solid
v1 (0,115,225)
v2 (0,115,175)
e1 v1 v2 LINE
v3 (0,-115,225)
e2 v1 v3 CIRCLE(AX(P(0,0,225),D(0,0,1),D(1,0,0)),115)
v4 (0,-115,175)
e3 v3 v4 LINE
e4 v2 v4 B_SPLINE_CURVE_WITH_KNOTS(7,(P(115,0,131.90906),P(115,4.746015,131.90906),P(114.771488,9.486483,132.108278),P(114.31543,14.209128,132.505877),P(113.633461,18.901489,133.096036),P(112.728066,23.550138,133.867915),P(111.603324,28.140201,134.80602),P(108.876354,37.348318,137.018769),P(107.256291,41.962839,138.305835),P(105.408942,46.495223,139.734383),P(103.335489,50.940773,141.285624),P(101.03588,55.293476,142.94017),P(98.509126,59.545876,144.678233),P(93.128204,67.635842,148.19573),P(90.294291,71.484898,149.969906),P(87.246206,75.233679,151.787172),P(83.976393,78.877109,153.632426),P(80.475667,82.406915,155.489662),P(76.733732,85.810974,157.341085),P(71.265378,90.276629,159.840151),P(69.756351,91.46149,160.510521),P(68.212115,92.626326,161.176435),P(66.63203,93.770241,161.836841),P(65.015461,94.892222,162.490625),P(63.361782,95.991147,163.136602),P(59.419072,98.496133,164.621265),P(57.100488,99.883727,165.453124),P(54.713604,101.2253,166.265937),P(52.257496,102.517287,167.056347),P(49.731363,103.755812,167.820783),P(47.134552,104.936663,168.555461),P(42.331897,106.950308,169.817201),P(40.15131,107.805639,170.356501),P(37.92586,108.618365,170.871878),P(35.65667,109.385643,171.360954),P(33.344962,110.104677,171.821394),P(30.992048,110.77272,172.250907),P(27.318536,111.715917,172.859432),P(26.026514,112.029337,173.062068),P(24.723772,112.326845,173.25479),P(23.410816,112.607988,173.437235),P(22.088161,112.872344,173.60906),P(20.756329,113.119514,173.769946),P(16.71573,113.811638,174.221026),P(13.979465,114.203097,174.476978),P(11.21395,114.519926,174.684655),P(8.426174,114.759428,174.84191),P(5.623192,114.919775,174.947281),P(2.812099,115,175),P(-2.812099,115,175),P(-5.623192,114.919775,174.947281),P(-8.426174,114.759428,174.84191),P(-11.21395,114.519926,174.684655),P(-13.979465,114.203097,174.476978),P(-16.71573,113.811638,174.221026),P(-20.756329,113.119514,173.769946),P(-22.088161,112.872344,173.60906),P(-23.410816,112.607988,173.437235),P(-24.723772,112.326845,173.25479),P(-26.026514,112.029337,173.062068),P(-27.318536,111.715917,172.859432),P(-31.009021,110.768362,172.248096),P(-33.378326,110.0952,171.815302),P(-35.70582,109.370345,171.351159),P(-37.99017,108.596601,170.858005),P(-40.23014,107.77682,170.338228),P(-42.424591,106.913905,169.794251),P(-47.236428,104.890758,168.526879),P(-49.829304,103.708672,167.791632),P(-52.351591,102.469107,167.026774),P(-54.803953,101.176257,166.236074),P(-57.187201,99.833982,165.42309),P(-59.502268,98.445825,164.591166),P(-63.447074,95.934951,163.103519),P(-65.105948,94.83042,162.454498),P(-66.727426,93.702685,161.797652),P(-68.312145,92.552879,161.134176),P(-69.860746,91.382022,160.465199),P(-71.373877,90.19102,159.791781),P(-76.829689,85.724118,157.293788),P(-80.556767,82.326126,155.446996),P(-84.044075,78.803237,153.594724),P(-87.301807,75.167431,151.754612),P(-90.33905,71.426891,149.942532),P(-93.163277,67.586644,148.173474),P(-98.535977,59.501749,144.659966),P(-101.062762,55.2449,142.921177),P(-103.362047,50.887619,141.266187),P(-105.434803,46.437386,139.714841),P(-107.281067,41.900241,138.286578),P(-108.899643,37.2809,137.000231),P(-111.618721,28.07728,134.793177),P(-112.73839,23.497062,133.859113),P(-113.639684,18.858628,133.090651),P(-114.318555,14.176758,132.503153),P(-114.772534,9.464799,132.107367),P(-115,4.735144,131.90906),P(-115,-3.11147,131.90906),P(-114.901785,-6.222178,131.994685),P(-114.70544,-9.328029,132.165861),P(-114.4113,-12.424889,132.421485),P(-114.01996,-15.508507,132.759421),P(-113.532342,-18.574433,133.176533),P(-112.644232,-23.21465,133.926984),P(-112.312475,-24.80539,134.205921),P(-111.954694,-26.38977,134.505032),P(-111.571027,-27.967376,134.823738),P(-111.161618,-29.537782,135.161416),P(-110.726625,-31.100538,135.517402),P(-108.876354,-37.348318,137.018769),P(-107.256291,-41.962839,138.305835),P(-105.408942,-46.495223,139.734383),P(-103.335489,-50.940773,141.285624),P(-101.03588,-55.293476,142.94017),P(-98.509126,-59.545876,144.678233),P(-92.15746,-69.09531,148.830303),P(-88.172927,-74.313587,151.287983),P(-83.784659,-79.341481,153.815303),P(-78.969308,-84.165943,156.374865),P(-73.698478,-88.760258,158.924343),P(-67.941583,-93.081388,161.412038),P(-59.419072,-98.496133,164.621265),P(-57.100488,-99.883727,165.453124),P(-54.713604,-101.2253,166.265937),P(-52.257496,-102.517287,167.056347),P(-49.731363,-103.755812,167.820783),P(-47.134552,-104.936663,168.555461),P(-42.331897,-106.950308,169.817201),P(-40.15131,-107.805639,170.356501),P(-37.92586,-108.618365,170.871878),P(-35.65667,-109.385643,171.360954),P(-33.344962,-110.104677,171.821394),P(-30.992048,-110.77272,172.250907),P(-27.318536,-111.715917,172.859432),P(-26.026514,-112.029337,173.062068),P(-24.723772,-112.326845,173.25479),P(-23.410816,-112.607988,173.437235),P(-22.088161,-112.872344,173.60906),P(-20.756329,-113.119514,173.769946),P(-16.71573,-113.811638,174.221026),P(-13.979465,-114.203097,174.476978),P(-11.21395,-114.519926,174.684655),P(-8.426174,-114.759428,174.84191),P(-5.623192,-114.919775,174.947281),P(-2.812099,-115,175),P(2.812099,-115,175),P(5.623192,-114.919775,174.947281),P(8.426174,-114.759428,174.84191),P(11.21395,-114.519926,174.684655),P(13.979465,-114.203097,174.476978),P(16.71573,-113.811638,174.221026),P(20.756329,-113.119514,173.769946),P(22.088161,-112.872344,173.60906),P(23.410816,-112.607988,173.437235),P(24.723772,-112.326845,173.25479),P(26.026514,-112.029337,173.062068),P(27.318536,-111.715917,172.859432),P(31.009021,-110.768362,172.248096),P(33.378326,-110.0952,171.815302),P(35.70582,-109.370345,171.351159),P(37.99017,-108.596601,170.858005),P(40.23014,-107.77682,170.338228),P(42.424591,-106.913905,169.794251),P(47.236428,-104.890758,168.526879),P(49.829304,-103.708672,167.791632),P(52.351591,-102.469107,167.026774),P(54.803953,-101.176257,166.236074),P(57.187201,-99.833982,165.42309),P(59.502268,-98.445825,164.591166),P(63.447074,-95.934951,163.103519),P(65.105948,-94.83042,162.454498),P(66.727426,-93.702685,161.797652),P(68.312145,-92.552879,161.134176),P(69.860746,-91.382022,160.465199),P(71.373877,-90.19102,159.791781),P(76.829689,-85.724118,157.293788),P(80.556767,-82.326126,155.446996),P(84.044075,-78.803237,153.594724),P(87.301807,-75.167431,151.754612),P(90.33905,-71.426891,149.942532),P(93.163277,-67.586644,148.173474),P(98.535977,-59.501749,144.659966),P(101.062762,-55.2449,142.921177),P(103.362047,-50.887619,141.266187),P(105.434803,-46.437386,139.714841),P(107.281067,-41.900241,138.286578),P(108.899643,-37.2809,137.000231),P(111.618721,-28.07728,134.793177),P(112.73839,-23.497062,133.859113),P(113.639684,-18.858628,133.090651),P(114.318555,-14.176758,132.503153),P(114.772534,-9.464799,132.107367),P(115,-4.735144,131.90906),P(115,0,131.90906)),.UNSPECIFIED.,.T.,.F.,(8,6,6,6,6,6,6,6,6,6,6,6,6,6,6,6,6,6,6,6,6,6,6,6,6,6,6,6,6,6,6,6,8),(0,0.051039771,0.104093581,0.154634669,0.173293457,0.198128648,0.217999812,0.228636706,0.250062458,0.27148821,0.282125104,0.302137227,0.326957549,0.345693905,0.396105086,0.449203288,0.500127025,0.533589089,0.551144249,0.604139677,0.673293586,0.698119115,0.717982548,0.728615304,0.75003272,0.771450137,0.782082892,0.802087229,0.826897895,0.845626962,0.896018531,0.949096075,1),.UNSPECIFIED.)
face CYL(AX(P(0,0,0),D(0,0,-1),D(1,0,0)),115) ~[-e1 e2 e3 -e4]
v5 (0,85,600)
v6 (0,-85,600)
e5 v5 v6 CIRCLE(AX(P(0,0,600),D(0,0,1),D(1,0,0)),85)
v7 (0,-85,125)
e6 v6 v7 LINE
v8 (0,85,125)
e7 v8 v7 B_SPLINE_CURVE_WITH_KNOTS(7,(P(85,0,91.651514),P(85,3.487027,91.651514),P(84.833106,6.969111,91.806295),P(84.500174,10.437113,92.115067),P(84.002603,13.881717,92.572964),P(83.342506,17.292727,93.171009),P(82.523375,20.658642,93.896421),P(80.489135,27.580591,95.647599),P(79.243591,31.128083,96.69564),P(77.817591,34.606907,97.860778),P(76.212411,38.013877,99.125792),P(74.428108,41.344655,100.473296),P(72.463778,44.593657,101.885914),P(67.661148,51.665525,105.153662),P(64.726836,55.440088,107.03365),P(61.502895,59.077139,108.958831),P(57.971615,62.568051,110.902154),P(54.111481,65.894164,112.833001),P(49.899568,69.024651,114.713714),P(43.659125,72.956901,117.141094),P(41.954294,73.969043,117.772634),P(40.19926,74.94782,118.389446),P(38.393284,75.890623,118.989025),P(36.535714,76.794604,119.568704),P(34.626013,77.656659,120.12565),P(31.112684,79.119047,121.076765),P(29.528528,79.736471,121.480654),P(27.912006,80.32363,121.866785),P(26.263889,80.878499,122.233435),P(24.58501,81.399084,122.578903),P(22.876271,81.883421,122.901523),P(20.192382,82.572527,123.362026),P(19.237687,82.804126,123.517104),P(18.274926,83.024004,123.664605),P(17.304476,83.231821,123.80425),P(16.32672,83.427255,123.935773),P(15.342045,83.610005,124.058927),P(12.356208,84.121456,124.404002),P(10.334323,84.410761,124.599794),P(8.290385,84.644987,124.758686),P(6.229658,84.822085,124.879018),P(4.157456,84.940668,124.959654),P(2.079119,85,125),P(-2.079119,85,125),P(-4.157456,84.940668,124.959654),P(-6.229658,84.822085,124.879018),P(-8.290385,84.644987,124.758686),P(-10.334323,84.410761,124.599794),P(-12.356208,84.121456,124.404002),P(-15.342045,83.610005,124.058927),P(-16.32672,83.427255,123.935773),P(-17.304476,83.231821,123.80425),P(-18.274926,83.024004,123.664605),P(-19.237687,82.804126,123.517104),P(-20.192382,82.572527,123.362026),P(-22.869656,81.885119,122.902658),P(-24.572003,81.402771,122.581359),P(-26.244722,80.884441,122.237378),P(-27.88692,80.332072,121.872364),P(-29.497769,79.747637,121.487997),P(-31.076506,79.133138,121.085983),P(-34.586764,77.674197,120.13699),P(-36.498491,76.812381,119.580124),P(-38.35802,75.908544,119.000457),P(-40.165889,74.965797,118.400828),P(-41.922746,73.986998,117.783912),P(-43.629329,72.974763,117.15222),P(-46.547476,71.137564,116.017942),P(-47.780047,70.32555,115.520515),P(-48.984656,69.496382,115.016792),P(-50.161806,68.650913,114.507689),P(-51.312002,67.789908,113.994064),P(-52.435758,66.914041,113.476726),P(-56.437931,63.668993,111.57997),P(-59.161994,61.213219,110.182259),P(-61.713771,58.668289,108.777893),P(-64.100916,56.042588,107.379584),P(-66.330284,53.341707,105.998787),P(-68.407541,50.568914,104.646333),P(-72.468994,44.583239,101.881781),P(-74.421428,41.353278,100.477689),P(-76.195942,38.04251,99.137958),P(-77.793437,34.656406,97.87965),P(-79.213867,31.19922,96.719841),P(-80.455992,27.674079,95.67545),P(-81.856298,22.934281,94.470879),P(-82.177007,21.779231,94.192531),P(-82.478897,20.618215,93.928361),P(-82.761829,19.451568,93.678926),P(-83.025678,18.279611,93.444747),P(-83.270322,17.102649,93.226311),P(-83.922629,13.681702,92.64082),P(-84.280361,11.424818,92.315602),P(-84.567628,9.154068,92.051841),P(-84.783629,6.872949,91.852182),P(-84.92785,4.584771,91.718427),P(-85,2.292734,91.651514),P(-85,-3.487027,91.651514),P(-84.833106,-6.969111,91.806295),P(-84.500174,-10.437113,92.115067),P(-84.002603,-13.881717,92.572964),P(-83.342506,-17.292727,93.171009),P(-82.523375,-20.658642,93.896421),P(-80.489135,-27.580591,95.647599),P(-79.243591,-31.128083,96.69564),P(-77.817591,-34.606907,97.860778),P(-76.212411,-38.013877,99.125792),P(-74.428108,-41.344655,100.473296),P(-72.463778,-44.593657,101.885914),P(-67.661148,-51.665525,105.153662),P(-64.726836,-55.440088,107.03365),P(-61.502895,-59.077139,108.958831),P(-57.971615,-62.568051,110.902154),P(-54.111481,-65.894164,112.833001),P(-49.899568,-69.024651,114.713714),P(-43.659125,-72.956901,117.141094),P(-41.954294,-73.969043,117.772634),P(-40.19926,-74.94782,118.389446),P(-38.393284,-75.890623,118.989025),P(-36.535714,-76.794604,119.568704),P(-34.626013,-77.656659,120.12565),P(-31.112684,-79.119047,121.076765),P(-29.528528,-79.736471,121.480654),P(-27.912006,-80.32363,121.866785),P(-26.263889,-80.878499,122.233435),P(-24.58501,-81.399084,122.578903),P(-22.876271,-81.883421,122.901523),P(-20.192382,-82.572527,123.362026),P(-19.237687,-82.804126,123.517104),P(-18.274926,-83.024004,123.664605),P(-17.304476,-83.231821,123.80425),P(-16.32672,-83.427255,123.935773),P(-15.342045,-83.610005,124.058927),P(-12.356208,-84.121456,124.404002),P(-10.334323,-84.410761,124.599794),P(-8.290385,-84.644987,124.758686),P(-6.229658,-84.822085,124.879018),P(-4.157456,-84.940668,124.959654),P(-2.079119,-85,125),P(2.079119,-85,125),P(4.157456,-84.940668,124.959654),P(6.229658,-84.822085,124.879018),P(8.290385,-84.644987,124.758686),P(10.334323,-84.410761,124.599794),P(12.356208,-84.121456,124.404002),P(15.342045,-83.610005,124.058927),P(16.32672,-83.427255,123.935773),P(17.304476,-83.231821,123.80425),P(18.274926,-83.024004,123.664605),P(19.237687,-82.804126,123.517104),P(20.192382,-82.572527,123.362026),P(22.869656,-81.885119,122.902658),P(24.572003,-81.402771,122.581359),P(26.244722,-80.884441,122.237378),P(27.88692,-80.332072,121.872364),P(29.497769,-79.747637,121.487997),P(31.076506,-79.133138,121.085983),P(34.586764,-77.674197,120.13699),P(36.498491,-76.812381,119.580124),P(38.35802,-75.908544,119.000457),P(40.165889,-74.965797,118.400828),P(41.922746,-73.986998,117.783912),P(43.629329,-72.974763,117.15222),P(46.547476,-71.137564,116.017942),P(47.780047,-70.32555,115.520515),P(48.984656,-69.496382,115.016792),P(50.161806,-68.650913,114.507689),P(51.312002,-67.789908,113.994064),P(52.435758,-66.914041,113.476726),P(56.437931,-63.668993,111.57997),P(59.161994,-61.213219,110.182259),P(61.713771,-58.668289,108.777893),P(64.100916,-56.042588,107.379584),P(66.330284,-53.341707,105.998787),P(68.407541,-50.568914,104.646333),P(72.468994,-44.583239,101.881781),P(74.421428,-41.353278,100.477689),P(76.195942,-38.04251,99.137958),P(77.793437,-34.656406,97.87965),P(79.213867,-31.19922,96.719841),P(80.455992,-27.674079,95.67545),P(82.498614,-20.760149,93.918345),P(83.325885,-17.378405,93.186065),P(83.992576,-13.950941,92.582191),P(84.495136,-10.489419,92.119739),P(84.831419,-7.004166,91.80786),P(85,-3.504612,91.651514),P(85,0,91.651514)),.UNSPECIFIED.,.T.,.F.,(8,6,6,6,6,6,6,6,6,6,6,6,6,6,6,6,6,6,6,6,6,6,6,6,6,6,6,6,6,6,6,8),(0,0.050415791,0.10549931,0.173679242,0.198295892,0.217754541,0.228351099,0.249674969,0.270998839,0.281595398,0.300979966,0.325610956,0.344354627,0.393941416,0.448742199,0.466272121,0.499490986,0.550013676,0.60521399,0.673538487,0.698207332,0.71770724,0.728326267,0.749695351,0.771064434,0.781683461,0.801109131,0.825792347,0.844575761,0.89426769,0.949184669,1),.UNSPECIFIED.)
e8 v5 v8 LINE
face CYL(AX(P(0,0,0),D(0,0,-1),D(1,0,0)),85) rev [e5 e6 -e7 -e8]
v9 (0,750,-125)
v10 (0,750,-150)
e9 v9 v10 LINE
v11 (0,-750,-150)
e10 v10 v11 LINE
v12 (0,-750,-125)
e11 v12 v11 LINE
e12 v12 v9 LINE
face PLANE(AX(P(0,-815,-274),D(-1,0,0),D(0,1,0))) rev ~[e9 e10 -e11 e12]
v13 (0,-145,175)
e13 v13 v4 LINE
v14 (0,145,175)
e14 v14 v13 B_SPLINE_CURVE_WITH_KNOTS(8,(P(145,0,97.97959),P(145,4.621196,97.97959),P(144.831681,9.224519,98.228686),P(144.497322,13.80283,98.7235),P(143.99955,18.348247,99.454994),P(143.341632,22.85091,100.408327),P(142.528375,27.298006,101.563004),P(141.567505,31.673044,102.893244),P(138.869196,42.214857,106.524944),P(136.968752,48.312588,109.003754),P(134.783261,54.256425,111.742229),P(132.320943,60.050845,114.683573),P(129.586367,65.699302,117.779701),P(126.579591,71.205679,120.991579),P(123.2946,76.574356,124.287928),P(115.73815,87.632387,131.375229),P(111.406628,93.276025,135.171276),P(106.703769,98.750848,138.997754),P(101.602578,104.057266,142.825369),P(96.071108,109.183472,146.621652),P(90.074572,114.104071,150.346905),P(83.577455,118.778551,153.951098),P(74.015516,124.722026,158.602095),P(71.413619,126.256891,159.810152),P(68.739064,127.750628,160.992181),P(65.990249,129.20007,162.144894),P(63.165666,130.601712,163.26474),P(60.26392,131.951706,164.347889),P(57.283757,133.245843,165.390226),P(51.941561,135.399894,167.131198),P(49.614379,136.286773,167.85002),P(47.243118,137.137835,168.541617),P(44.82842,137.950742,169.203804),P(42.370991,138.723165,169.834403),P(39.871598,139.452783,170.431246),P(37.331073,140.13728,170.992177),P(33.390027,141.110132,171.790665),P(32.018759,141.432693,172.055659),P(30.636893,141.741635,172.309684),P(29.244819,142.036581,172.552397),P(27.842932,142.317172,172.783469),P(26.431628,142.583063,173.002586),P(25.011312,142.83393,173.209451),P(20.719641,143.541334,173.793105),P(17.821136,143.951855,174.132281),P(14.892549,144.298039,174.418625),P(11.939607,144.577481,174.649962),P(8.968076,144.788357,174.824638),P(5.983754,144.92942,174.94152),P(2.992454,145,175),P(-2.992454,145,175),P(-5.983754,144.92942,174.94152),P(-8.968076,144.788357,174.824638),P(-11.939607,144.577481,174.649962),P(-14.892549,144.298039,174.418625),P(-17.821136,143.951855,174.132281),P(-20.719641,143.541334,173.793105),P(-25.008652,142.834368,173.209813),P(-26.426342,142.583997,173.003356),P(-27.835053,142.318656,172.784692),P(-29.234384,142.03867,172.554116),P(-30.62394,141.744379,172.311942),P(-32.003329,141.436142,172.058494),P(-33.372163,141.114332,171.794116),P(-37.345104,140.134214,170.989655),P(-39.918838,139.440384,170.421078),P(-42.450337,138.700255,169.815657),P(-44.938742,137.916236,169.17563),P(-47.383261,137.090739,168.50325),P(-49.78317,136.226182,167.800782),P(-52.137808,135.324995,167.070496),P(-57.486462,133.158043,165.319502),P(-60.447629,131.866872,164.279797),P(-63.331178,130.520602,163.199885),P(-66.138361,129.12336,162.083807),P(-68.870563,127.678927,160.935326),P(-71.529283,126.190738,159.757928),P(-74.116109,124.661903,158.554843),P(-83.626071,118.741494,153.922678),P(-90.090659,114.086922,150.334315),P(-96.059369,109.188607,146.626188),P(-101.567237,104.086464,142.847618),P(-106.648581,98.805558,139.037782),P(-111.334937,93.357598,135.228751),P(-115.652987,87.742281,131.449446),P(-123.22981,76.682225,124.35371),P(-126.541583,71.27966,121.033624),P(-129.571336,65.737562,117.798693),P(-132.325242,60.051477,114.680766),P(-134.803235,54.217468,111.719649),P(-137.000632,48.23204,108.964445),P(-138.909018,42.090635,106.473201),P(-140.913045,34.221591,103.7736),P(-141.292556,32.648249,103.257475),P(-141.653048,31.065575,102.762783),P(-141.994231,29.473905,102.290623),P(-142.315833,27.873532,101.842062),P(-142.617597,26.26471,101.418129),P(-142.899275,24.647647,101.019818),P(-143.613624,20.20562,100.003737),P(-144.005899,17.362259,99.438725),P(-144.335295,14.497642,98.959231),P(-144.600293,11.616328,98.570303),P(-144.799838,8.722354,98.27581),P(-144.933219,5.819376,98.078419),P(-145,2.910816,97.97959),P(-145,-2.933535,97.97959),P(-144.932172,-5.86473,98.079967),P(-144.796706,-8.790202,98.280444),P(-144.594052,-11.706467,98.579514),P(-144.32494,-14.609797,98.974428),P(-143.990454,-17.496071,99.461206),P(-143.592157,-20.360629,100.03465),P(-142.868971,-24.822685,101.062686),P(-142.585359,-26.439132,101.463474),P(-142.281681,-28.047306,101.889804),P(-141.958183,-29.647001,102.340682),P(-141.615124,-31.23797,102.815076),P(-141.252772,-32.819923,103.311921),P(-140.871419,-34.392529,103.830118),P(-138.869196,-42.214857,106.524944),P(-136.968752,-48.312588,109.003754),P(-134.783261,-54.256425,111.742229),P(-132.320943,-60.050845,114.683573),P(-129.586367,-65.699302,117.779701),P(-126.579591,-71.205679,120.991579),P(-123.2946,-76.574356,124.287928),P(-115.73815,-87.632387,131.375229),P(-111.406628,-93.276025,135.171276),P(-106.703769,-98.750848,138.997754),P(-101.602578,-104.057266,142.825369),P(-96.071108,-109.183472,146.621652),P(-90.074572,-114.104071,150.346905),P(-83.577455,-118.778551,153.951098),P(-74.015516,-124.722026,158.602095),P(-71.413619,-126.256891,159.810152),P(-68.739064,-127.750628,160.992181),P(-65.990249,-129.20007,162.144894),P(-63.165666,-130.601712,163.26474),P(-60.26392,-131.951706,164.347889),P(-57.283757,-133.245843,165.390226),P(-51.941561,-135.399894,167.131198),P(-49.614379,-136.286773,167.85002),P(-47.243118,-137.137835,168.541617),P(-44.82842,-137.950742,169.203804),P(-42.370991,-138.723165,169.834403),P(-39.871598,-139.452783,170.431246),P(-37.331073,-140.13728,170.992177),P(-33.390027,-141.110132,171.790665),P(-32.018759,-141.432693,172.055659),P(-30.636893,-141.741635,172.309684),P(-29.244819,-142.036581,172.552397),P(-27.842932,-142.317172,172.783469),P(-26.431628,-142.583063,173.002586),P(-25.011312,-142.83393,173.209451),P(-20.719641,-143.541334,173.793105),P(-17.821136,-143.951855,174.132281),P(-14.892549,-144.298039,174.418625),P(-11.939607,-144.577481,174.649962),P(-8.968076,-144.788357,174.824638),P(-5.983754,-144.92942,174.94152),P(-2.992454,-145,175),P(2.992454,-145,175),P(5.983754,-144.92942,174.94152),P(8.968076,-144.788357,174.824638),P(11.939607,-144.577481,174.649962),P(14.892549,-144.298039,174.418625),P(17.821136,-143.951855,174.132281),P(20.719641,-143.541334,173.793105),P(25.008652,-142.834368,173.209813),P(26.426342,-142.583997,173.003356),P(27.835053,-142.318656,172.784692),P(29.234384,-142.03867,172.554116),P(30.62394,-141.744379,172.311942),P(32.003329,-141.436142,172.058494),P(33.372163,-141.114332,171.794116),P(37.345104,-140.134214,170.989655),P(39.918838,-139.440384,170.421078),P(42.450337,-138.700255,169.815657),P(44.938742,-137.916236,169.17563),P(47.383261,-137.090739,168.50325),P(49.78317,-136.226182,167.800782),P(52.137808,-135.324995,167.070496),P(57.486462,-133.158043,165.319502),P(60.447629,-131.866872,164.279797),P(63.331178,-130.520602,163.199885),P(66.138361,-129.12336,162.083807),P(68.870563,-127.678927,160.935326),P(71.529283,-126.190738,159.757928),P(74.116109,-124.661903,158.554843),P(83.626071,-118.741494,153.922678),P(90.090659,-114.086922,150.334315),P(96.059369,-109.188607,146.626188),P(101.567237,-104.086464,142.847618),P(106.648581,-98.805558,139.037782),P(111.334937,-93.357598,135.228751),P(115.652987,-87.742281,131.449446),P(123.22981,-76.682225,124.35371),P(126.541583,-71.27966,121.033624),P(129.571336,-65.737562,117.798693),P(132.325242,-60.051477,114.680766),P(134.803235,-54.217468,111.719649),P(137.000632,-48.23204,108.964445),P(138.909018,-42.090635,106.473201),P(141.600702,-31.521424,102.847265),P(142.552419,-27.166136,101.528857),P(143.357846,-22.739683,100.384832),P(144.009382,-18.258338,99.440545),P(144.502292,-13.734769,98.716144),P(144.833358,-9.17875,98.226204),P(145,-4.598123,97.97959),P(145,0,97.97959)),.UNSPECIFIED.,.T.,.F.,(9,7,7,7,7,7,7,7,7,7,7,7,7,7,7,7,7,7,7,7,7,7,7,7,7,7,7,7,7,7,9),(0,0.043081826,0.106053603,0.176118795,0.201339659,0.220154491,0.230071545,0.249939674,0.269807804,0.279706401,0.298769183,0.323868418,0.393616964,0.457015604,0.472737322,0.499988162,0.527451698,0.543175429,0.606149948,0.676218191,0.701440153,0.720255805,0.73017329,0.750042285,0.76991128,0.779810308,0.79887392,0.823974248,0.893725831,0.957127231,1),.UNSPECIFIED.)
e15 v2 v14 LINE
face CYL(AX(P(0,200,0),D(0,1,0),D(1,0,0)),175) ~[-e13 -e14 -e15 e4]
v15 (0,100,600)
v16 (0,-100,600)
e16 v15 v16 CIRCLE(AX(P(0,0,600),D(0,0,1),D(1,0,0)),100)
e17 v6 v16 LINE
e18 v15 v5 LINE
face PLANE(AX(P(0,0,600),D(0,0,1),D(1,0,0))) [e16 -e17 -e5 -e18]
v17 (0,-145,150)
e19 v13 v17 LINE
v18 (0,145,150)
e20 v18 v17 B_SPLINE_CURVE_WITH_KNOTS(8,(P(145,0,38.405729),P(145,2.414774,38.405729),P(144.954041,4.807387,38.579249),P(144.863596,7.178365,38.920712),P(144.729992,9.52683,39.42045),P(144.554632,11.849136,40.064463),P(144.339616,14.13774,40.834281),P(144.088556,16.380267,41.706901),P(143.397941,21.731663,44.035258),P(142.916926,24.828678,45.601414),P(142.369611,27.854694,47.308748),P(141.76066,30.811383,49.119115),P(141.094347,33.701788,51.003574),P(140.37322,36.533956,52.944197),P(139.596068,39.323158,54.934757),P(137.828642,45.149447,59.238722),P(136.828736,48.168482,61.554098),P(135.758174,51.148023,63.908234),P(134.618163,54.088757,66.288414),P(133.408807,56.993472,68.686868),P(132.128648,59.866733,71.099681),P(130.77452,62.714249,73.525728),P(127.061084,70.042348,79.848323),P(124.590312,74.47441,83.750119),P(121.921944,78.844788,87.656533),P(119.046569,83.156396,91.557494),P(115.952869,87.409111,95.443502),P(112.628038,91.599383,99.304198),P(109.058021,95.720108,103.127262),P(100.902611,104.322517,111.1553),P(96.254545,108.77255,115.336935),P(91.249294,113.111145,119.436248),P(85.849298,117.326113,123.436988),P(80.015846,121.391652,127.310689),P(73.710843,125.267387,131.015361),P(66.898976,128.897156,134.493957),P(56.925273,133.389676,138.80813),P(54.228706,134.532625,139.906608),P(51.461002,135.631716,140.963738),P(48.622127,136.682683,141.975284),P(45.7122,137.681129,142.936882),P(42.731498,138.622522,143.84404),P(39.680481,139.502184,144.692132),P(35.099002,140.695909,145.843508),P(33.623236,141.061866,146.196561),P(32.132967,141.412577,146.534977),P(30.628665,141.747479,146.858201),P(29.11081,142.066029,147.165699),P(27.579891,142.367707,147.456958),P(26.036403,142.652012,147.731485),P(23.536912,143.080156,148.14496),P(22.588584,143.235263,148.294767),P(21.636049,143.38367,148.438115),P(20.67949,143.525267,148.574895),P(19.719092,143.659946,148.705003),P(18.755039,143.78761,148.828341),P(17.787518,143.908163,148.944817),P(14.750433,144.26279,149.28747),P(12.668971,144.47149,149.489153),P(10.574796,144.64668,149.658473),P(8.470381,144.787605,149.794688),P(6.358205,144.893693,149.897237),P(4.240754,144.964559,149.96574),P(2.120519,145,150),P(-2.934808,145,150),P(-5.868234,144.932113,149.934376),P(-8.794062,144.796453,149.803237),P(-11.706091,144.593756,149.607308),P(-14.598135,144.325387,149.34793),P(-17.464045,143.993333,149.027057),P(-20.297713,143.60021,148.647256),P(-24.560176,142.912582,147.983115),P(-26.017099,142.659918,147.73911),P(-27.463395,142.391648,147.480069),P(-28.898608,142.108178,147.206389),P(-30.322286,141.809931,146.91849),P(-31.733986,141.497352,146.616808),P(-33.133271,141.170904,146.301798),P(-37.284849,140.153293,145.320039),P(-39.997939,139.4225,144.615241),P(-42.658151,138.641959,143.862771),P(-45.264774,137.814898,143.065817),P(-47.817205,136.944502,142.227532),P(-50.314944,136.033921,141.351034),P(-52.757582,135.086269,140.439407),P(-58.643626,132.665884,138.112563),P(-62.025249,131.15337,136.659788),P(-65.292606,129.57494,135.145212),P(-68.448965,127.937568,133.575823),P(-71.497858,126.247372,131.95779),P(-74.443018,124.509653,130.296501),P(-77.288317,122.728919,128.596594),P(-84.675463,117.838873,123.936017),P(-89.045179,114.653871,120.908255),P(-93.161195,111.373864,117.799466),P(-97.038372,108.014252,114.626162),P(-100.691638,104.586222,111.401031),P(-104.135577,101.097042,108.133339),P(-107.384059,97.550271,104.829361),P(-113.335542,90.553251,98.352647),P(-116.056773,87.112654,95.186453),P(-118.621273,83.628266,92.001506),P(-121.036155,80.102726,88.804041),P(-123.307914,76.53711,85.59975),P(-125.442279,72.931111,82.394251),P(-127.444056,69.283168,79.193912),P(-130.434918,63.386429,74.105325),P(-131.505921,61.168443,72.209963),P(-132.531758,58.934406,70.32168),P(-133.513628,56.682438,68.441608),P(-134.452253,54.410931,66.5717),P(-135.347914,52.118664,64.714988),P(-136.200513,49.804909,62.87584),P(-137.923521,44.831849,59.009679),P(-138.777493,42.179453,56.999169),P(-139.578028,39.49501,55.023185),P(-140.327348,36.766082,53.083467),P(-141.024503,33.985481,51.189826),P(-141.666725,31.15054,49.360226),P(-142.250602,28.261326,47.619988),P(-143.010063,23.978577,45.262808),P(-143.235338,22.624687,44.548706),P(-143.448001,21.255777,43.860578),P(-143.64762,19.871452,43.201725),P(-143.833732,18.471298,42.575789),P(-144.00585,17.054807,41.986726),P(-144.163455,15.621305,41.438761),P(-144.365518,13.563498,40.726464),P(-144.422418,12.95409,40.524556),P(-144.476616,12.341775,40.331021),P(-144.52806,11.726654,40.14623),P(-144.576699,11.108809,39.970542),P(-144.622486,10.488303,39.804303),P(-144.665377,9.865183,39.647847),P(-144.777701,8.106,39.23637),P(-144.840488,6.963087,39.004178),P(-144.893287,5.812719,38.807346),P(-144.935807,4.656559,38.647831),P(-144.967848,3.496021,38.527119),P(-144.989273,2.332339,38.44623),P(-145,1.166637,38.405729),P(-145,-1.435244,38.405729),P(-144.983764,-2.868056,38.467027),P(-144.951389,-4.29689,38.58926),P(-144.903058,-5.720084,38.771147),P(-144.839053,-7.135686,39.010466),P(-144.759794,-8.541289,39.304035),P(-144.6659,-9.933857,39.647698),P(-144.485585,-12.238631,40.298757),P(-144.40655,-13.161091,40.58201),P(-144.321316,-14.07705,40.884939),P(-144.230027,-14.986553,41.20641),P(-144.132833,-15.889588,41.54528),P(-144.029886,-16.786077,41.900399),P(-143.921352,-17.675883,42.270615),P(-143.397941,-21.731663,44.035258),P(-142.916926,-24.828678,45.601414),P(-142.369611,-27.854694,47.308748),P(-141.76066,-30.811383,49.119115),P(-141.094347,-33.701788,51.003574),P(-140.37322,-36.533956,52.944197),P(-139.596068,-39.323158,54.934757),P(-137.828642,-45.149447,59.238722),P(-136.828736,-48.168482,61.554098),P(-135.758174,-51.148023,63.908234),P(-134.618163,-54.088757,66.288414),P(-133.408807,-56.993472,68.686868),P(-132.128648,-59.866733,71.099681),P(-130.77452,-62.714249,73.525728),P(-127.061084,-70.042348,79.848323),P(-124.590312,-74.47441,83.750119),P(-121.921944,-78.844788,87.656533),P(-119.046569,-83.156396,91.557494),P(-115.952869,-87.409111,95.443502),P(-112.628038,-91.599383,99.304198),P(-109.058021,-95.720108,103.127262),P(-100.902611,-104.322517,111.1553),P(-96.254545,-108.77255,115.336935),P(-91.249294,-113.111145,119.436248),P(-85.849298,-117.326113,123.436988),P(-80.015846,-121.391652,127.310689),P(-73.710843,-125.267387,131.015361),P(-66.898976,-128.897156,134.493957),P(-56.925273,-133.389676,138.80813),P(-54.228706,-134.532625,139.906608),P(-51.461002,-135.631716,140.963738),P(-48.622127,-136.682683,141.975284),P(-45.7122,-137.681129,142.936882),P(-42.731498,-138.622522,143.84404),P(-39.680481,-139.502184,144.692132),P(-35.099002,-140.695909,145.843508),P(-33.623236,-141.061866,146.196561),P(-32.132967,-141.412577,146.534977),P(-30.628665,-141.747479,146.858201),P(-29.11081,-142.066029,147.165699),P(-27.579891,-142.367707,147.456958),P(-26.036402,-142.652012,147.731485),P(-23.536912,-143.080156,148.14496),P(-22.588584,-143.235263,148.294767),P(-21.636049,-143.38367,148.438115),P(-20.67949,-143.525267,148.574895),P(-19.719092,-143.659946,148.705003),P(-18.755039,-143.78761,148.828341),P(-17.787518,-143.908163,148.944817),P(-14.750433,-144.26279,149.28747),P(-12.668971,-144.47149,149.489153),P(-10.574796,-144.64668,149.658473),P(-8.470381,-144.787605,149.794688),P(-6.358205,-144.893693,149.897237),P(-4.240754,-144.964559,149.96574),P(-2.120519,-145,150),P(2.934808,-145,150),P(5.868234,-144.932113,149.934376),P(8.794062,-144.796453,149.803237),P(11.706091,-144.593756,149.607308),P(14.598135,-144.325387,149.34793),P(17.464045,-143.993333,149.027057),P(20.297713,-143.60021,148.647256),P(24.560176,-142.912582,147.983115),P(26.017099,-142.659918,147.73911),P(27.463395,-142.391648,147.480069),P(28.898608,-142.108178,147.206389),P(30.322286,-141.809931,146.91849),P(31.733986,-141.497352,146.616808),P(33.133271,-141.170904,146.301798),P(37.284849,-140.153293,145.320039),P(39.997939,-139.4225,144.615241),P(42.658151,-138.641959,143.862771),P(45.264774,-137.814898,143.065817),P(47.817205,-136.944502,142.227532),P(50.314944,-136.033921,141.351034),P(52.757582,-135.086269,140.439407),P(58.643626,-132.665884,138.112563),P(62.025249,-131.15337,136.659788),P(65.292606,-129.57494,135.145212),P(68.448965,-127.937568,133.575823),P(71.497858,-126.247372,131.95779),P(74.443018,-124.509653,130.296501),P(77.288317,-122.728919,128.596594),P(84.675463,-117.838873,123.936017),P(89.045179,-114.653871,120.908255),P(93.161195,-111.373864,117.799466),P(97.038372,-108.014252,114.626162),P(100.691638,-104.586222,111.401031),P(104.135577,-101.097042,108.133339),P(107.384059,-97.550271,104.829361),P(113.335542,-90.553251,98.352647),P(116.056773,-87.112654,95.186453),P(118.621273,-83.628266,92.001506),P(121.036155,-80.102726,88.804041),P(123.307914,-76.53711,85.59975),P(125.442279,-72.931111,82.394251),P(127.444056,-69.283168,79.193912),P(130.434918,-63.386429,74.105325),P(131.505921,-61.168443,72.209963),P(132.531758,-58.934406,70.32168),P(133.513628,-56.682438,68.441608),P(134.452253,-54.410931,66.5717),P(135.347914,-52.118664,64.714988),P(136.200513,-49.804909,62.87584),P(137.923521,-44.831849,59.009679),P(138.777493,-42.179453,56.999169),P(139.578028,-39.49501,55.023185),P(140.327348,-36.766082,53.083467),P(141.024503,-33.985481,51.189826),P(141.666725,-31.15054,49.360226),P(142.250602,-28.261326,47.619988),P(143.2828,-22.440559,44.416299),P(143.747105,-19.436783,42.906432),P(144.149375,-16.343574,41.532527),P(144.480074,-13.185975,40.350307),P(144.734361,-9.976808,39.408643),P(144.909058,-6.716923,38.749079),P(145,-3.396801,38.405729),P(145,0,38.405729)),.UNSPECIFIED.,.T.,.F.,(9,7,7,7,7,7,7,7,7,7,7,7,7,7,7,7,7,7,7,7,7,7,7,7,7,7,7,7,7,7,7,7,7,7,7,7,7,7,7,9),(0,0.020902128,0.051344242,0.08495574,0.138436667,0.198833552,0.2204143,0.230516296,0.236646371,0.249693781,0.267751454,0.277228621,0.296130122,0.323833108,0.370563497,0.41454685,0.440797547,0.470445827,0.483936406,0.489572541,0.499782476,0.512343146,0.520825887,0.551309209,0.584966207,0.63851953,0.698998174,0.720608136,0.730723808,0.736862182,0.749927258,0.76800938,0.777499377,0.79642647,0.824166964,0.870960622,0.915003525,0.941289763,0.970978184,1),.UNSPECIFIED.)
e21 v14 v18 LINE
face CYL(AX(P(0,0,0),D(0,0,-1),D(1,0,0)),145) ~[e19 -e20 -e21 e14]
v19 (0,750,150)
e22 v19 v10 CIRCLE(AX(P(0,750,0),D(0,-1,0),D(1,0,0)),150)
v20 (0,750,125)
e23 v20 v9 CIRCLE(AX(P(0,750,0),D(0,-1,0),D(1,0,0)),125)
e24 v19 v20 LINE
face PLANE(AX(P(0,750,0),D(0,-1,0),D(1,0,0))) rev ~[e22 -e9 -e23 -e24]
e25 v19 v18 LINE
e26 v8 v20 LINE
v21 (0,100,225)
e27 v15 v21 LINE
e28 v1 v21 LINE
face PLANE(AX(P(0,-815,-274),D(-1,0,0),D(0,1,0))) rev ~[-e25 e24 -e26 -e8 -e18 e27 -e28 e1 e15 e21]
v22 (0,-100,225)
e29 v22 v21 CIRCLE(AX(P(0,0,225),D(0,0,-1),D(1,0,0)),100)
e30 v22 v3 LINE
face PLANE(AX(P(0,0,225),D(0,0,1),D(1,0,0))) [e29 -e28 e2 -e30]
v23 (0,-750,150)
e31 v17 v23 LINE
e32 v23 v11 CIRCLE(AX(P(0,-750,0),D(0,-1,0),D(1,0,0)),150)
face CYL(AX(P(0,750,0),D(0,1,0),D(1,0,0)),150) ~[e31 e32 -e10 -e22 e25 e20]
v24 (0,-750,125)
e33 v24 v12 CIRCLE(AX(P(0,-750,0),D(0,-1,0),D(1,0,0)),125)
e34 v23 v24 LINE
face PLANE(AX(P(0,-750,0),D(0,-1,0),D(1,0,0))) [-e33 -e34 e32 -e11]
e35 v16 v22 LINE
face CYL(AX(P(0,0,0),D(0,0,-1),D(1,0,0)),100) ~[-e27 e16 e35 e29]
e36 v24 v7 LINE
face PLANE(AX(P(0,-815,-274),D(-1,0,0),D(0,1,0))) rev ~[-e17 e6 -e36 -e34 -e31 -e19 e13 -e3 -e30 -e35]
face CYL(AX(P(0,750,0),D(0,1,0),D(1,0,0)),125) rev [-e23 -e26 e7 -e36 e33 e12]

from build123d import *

# Parameters (mm, degrees)
BOX002_W               = 500
BOX002_H               = 1800
BOX002_DEPTH           = 1000
CYLINDER011_R          = 125
CYLINDER011_DEPTH      = 1500
CYLINDER011_ROLL_ANGLE = 90
BOX001_W               = 500
BOX001_H               = 1800
BOX001_DEPTH           = 1000
CYLINDER007_R          = 125
CYLINDER007_DEPTH      = 1500
CYLINDER007_ROLL_ANGLE = 90
CYLINDER006_R          = 85
CYLINDER006_DEPTH      = 600
CYLINDER002_R          = 115
CYLINDER002_DEPTH      = 225
CYLINDER001_R          = 150
CYLINDER001_DEPTH      = 1500
CYLINDER001_ROLL_ANGLE = 90
CYLINDER_R             = 100
CYLINDER_DEPTH         = 600
BOX_W                  = 500
BOX_H                  = 500
BOX_DEPTH              = 500
CYLINDER004_R          = 145
CYLINDER004_DEPTH      = 600
CYLINDER005_R          = 300
CYLINDER005_DEPTH      = 600
CYLINDER003_R          = 175
CYLINDER003_DEPTH      = 400
CYLINDER003_ROLL_ANGLE = 90
CYLINDER010_R          = 150
CYLINDER010_DEPTH      = 200
CYLINDER010_ROLL_ANGLE = 90
CYLINDER009_R          = 150
CYLINDER009_DEPTH      = 200
CYLINDER009_ROLL_ANGLE = 90


with BuildPart() as cube002:
    # Box002 → Box002 (new body)
    with BuildSketch(Plane(origin=(0, -815, -274), x_dir=(1, 0, 0), z_dir=(0, 0, 1))):
        with Locations((250, 900)):
            Rectangle(BOX002_W, BOX002_H)
    extrude(amount=BOX002_DEPTH)


with BuildPart() as cylinder011:
    # Cylinder011 → Cylinder011 (new body)
    with BuildSketch(Plane.XY):
        Circle(CYLINDER011_R)
    extrude(amount=CYLINDER011_DEPTH)


with BuildPart() as cylinder011_1:
    # Cylinder011 roll: moved
    add(cylinder011.part.rotate(Axis((0, 0, 0), (1, 0, 0)), CYLINDER011_ROLL_ANGLE))


with BuildPart() as cylinder011_2:
    # Cylinder011 placement: moved
    add(cylinder011_1.part.moved(Location((0, 750, 0))))


with BuildPart() as cube001:
    # Box001 → Box001 (new body)
    with BuildSketch(Plane(origin=(0, -815, -274), x_dir=(1, 0, 0), z_dir=(0, 0, 1))):
        with Locations((250, 900)):
            Rectangle(BOX001_W, BOX001_H)
    extrude(amount=BOX001_DEPTH)


with BuildPart() as cylinder007:
    # Cylinder007 → Cylinder007 (new body)
    with BuildSketch(Plane.XY):
        Circle(CYLINDER007_R)
    extrude(amount=CYLINDER007_DEPTH)


with BuildPart() as cylinder007_1:
    # Cylinder007 roll: moved
    add(cylinder007.part.rotate(Axis((0, 0, 0), (1, 0, 0)), CYLINDER007_ROLL_ANGLE))


with BuildPart() as cylinder007_2:
    # Cylinder007 placement: moved
    add(cylinder007_1.part.moved(Location((0, 750, 0))))


with BuildPart() as cylinder006:
    # Cylinder006 → Cylinder006 (new body)
    with BuildSketch(Plane.XY):
        Circle(CYLINDER006_R)
    extrude(amount=CYLINDER006_DEPTH)


with BuildPart() as cylinder002:
    # Cylinder002 → Cylinder002 (new body)
    with BuildSketch(Plane.XY):
        Circle(CYLINDER002_R)
    extrude(amount=CYLINDER002_DEPTH)


with BuildPart() as cylinder001:
    # Cylinder001 → Cylinder001 (new body)
    with BuildSketch(Plane.XY):
        Circle(CYLINDER001_R)
    extrude(amount=CYLINDER001_DEPTH)


with BuildPart() as cylinder001_1:
    # Cylinder001 roll: moved
    add(cylinder001.part.rotate(Axis((0, 0, 0), (1, 0, 0)), CYLINDER001_ROLL_ANGLE))


with BuildPart() as cylinder001_2:
    # Cylinder001 placement: moved
    add(cylinder001_1.part.moved(Location((0, 750, 0))))


with BuildPart() as cylinder:
    # Cylinder → Cylinder (new body)
    with BuildSketch(Plane.XY):
        Circle(CYLINDER_R)
    extrude(amount=CYLINDER_DEPTH)


with BuildPart() as cube:
    # Box → Box (new body)
    with BuildSketch(Plane(origin=(-226, -279, -480), x_dir=(1, 0, 0), z_dir=(0, 0, 1))):
        with Locations((250, 250)):
            Rectangle(BOX_W, BOX_H)
    extrude(amount=BOX_DEPTH)


with BuildPart() as cylinder004:
    # Cylinder004 → Cylinder004 (new body)
    with BuildSketch(Plane.XY):
        Circle(CYLINDER004_R)
    extrude(amount=CYLINDER004_DEPTH)


with BuildPart() as cut:
    # Cylinder005 → Cylinder005 (new body)
    with BuildSketch(Plane.XY):
        Circle(CYLINDER005_R)
    extrude(amount=CYLINDER005_DEPTH)

    # Cut: cut Cylinder004
    add(cylinder004.part, mode=Mode.SUBTRACT)


with BuildPart() as cut005:
    # Cylinder003 → Cylinder003 (new body)
    with BuildSketch(Plane.XY):
        Circle(CYLINDER003_R)
    extrude(amount=CYLINDER003_DEPTH)


with BuildPart() as cut005_1:
    # Cylinder003 roll: moved
    add(cut005.part.rotate(Axis((0, 0, 0), (1, 0, 0)), CYLINDER003_ROLL_ANGLE))


with BuildPart() as cut005_2:
    # Cylinder003 placement: moved
    add(cut005_1.part.moved(Location((0, 200, 0))))

    # Cut001: cut Cut
    add(cut.part, mode=Mode.SUBTRACT)

    # Cut002: cut Cube
    add(cube.part, mode=Mode.SUBTRACT)

    # Fusion: union Cylinder002, Cylinder001, Cylinder
    add(cylinder002.part)
    add(cylinder001_2.part)
    add(cylinder.part)

    # Cut003: cut Cylinder006
    add(cylinder006.part, mode=Mode.SUBTRACT)

    # Cut004: cut Cylinder007
    add(cylinder007_2.part, mode=Mode.SUBTRACT)

    # Cut005: cut Cube001
    add(cube001.part, mode=Mode.SUBTRACT)


with BuildPart() as cylinder010:
    # Cylinder010 → Cylinder010 (new body)
    with BuildSketch(Plane.XY):
        Circle(CYLINDER010_R)
    extrude(amount=CYLINDER010_DEPTH)


with BuildPart() as cylinder010_1:
    # Cylinder010 roll: moved
    add(cylinder010.part.rotate(Axis((0, 0, 0), (1, 0, 0)), CYLINDER010_ROLL_ANGLE))


with BuildPart() as cylinder010_2:
    # Cylinder010 placement: moved
    add(cylinder010_1.part.moved(Location((0, 350, 0))))


with BuildPart() as cut007:
    # Cylinder009 → Cylinder009 (new body)
    with BuildSketch(Plane.XY):
        Circle(CYLINDER009_R)
    extrude(amount=CYLINDER009_DEPTH)


with BuildPart() as cut007_1:
    # Cylinder009 roll: moved
    add(cut007.part.rotate(Axis((0, 0, 0), (1, 0, 0)), CYLINDER009_ROLL_ANGLE))


with BuildPart() as cut007_2:
    # Cylinder009 placement: moved
    add(cut007_1.part.moved(Location((0, -150, 0))))

    # Fusion002: union Cylinder010
    add(cylinder010_2.part)

    # Fusion003: union Cut005
    add(cut005_2.part)

    # Cut006: cut Cylinder011
    add(cylinder011_2.part, mode=Mode.SUBTRACT)

    # Cut007: cut Cube002
    add(cube002.part, mode=Mode.SUBTRACT)


solid = cut007_2.part
